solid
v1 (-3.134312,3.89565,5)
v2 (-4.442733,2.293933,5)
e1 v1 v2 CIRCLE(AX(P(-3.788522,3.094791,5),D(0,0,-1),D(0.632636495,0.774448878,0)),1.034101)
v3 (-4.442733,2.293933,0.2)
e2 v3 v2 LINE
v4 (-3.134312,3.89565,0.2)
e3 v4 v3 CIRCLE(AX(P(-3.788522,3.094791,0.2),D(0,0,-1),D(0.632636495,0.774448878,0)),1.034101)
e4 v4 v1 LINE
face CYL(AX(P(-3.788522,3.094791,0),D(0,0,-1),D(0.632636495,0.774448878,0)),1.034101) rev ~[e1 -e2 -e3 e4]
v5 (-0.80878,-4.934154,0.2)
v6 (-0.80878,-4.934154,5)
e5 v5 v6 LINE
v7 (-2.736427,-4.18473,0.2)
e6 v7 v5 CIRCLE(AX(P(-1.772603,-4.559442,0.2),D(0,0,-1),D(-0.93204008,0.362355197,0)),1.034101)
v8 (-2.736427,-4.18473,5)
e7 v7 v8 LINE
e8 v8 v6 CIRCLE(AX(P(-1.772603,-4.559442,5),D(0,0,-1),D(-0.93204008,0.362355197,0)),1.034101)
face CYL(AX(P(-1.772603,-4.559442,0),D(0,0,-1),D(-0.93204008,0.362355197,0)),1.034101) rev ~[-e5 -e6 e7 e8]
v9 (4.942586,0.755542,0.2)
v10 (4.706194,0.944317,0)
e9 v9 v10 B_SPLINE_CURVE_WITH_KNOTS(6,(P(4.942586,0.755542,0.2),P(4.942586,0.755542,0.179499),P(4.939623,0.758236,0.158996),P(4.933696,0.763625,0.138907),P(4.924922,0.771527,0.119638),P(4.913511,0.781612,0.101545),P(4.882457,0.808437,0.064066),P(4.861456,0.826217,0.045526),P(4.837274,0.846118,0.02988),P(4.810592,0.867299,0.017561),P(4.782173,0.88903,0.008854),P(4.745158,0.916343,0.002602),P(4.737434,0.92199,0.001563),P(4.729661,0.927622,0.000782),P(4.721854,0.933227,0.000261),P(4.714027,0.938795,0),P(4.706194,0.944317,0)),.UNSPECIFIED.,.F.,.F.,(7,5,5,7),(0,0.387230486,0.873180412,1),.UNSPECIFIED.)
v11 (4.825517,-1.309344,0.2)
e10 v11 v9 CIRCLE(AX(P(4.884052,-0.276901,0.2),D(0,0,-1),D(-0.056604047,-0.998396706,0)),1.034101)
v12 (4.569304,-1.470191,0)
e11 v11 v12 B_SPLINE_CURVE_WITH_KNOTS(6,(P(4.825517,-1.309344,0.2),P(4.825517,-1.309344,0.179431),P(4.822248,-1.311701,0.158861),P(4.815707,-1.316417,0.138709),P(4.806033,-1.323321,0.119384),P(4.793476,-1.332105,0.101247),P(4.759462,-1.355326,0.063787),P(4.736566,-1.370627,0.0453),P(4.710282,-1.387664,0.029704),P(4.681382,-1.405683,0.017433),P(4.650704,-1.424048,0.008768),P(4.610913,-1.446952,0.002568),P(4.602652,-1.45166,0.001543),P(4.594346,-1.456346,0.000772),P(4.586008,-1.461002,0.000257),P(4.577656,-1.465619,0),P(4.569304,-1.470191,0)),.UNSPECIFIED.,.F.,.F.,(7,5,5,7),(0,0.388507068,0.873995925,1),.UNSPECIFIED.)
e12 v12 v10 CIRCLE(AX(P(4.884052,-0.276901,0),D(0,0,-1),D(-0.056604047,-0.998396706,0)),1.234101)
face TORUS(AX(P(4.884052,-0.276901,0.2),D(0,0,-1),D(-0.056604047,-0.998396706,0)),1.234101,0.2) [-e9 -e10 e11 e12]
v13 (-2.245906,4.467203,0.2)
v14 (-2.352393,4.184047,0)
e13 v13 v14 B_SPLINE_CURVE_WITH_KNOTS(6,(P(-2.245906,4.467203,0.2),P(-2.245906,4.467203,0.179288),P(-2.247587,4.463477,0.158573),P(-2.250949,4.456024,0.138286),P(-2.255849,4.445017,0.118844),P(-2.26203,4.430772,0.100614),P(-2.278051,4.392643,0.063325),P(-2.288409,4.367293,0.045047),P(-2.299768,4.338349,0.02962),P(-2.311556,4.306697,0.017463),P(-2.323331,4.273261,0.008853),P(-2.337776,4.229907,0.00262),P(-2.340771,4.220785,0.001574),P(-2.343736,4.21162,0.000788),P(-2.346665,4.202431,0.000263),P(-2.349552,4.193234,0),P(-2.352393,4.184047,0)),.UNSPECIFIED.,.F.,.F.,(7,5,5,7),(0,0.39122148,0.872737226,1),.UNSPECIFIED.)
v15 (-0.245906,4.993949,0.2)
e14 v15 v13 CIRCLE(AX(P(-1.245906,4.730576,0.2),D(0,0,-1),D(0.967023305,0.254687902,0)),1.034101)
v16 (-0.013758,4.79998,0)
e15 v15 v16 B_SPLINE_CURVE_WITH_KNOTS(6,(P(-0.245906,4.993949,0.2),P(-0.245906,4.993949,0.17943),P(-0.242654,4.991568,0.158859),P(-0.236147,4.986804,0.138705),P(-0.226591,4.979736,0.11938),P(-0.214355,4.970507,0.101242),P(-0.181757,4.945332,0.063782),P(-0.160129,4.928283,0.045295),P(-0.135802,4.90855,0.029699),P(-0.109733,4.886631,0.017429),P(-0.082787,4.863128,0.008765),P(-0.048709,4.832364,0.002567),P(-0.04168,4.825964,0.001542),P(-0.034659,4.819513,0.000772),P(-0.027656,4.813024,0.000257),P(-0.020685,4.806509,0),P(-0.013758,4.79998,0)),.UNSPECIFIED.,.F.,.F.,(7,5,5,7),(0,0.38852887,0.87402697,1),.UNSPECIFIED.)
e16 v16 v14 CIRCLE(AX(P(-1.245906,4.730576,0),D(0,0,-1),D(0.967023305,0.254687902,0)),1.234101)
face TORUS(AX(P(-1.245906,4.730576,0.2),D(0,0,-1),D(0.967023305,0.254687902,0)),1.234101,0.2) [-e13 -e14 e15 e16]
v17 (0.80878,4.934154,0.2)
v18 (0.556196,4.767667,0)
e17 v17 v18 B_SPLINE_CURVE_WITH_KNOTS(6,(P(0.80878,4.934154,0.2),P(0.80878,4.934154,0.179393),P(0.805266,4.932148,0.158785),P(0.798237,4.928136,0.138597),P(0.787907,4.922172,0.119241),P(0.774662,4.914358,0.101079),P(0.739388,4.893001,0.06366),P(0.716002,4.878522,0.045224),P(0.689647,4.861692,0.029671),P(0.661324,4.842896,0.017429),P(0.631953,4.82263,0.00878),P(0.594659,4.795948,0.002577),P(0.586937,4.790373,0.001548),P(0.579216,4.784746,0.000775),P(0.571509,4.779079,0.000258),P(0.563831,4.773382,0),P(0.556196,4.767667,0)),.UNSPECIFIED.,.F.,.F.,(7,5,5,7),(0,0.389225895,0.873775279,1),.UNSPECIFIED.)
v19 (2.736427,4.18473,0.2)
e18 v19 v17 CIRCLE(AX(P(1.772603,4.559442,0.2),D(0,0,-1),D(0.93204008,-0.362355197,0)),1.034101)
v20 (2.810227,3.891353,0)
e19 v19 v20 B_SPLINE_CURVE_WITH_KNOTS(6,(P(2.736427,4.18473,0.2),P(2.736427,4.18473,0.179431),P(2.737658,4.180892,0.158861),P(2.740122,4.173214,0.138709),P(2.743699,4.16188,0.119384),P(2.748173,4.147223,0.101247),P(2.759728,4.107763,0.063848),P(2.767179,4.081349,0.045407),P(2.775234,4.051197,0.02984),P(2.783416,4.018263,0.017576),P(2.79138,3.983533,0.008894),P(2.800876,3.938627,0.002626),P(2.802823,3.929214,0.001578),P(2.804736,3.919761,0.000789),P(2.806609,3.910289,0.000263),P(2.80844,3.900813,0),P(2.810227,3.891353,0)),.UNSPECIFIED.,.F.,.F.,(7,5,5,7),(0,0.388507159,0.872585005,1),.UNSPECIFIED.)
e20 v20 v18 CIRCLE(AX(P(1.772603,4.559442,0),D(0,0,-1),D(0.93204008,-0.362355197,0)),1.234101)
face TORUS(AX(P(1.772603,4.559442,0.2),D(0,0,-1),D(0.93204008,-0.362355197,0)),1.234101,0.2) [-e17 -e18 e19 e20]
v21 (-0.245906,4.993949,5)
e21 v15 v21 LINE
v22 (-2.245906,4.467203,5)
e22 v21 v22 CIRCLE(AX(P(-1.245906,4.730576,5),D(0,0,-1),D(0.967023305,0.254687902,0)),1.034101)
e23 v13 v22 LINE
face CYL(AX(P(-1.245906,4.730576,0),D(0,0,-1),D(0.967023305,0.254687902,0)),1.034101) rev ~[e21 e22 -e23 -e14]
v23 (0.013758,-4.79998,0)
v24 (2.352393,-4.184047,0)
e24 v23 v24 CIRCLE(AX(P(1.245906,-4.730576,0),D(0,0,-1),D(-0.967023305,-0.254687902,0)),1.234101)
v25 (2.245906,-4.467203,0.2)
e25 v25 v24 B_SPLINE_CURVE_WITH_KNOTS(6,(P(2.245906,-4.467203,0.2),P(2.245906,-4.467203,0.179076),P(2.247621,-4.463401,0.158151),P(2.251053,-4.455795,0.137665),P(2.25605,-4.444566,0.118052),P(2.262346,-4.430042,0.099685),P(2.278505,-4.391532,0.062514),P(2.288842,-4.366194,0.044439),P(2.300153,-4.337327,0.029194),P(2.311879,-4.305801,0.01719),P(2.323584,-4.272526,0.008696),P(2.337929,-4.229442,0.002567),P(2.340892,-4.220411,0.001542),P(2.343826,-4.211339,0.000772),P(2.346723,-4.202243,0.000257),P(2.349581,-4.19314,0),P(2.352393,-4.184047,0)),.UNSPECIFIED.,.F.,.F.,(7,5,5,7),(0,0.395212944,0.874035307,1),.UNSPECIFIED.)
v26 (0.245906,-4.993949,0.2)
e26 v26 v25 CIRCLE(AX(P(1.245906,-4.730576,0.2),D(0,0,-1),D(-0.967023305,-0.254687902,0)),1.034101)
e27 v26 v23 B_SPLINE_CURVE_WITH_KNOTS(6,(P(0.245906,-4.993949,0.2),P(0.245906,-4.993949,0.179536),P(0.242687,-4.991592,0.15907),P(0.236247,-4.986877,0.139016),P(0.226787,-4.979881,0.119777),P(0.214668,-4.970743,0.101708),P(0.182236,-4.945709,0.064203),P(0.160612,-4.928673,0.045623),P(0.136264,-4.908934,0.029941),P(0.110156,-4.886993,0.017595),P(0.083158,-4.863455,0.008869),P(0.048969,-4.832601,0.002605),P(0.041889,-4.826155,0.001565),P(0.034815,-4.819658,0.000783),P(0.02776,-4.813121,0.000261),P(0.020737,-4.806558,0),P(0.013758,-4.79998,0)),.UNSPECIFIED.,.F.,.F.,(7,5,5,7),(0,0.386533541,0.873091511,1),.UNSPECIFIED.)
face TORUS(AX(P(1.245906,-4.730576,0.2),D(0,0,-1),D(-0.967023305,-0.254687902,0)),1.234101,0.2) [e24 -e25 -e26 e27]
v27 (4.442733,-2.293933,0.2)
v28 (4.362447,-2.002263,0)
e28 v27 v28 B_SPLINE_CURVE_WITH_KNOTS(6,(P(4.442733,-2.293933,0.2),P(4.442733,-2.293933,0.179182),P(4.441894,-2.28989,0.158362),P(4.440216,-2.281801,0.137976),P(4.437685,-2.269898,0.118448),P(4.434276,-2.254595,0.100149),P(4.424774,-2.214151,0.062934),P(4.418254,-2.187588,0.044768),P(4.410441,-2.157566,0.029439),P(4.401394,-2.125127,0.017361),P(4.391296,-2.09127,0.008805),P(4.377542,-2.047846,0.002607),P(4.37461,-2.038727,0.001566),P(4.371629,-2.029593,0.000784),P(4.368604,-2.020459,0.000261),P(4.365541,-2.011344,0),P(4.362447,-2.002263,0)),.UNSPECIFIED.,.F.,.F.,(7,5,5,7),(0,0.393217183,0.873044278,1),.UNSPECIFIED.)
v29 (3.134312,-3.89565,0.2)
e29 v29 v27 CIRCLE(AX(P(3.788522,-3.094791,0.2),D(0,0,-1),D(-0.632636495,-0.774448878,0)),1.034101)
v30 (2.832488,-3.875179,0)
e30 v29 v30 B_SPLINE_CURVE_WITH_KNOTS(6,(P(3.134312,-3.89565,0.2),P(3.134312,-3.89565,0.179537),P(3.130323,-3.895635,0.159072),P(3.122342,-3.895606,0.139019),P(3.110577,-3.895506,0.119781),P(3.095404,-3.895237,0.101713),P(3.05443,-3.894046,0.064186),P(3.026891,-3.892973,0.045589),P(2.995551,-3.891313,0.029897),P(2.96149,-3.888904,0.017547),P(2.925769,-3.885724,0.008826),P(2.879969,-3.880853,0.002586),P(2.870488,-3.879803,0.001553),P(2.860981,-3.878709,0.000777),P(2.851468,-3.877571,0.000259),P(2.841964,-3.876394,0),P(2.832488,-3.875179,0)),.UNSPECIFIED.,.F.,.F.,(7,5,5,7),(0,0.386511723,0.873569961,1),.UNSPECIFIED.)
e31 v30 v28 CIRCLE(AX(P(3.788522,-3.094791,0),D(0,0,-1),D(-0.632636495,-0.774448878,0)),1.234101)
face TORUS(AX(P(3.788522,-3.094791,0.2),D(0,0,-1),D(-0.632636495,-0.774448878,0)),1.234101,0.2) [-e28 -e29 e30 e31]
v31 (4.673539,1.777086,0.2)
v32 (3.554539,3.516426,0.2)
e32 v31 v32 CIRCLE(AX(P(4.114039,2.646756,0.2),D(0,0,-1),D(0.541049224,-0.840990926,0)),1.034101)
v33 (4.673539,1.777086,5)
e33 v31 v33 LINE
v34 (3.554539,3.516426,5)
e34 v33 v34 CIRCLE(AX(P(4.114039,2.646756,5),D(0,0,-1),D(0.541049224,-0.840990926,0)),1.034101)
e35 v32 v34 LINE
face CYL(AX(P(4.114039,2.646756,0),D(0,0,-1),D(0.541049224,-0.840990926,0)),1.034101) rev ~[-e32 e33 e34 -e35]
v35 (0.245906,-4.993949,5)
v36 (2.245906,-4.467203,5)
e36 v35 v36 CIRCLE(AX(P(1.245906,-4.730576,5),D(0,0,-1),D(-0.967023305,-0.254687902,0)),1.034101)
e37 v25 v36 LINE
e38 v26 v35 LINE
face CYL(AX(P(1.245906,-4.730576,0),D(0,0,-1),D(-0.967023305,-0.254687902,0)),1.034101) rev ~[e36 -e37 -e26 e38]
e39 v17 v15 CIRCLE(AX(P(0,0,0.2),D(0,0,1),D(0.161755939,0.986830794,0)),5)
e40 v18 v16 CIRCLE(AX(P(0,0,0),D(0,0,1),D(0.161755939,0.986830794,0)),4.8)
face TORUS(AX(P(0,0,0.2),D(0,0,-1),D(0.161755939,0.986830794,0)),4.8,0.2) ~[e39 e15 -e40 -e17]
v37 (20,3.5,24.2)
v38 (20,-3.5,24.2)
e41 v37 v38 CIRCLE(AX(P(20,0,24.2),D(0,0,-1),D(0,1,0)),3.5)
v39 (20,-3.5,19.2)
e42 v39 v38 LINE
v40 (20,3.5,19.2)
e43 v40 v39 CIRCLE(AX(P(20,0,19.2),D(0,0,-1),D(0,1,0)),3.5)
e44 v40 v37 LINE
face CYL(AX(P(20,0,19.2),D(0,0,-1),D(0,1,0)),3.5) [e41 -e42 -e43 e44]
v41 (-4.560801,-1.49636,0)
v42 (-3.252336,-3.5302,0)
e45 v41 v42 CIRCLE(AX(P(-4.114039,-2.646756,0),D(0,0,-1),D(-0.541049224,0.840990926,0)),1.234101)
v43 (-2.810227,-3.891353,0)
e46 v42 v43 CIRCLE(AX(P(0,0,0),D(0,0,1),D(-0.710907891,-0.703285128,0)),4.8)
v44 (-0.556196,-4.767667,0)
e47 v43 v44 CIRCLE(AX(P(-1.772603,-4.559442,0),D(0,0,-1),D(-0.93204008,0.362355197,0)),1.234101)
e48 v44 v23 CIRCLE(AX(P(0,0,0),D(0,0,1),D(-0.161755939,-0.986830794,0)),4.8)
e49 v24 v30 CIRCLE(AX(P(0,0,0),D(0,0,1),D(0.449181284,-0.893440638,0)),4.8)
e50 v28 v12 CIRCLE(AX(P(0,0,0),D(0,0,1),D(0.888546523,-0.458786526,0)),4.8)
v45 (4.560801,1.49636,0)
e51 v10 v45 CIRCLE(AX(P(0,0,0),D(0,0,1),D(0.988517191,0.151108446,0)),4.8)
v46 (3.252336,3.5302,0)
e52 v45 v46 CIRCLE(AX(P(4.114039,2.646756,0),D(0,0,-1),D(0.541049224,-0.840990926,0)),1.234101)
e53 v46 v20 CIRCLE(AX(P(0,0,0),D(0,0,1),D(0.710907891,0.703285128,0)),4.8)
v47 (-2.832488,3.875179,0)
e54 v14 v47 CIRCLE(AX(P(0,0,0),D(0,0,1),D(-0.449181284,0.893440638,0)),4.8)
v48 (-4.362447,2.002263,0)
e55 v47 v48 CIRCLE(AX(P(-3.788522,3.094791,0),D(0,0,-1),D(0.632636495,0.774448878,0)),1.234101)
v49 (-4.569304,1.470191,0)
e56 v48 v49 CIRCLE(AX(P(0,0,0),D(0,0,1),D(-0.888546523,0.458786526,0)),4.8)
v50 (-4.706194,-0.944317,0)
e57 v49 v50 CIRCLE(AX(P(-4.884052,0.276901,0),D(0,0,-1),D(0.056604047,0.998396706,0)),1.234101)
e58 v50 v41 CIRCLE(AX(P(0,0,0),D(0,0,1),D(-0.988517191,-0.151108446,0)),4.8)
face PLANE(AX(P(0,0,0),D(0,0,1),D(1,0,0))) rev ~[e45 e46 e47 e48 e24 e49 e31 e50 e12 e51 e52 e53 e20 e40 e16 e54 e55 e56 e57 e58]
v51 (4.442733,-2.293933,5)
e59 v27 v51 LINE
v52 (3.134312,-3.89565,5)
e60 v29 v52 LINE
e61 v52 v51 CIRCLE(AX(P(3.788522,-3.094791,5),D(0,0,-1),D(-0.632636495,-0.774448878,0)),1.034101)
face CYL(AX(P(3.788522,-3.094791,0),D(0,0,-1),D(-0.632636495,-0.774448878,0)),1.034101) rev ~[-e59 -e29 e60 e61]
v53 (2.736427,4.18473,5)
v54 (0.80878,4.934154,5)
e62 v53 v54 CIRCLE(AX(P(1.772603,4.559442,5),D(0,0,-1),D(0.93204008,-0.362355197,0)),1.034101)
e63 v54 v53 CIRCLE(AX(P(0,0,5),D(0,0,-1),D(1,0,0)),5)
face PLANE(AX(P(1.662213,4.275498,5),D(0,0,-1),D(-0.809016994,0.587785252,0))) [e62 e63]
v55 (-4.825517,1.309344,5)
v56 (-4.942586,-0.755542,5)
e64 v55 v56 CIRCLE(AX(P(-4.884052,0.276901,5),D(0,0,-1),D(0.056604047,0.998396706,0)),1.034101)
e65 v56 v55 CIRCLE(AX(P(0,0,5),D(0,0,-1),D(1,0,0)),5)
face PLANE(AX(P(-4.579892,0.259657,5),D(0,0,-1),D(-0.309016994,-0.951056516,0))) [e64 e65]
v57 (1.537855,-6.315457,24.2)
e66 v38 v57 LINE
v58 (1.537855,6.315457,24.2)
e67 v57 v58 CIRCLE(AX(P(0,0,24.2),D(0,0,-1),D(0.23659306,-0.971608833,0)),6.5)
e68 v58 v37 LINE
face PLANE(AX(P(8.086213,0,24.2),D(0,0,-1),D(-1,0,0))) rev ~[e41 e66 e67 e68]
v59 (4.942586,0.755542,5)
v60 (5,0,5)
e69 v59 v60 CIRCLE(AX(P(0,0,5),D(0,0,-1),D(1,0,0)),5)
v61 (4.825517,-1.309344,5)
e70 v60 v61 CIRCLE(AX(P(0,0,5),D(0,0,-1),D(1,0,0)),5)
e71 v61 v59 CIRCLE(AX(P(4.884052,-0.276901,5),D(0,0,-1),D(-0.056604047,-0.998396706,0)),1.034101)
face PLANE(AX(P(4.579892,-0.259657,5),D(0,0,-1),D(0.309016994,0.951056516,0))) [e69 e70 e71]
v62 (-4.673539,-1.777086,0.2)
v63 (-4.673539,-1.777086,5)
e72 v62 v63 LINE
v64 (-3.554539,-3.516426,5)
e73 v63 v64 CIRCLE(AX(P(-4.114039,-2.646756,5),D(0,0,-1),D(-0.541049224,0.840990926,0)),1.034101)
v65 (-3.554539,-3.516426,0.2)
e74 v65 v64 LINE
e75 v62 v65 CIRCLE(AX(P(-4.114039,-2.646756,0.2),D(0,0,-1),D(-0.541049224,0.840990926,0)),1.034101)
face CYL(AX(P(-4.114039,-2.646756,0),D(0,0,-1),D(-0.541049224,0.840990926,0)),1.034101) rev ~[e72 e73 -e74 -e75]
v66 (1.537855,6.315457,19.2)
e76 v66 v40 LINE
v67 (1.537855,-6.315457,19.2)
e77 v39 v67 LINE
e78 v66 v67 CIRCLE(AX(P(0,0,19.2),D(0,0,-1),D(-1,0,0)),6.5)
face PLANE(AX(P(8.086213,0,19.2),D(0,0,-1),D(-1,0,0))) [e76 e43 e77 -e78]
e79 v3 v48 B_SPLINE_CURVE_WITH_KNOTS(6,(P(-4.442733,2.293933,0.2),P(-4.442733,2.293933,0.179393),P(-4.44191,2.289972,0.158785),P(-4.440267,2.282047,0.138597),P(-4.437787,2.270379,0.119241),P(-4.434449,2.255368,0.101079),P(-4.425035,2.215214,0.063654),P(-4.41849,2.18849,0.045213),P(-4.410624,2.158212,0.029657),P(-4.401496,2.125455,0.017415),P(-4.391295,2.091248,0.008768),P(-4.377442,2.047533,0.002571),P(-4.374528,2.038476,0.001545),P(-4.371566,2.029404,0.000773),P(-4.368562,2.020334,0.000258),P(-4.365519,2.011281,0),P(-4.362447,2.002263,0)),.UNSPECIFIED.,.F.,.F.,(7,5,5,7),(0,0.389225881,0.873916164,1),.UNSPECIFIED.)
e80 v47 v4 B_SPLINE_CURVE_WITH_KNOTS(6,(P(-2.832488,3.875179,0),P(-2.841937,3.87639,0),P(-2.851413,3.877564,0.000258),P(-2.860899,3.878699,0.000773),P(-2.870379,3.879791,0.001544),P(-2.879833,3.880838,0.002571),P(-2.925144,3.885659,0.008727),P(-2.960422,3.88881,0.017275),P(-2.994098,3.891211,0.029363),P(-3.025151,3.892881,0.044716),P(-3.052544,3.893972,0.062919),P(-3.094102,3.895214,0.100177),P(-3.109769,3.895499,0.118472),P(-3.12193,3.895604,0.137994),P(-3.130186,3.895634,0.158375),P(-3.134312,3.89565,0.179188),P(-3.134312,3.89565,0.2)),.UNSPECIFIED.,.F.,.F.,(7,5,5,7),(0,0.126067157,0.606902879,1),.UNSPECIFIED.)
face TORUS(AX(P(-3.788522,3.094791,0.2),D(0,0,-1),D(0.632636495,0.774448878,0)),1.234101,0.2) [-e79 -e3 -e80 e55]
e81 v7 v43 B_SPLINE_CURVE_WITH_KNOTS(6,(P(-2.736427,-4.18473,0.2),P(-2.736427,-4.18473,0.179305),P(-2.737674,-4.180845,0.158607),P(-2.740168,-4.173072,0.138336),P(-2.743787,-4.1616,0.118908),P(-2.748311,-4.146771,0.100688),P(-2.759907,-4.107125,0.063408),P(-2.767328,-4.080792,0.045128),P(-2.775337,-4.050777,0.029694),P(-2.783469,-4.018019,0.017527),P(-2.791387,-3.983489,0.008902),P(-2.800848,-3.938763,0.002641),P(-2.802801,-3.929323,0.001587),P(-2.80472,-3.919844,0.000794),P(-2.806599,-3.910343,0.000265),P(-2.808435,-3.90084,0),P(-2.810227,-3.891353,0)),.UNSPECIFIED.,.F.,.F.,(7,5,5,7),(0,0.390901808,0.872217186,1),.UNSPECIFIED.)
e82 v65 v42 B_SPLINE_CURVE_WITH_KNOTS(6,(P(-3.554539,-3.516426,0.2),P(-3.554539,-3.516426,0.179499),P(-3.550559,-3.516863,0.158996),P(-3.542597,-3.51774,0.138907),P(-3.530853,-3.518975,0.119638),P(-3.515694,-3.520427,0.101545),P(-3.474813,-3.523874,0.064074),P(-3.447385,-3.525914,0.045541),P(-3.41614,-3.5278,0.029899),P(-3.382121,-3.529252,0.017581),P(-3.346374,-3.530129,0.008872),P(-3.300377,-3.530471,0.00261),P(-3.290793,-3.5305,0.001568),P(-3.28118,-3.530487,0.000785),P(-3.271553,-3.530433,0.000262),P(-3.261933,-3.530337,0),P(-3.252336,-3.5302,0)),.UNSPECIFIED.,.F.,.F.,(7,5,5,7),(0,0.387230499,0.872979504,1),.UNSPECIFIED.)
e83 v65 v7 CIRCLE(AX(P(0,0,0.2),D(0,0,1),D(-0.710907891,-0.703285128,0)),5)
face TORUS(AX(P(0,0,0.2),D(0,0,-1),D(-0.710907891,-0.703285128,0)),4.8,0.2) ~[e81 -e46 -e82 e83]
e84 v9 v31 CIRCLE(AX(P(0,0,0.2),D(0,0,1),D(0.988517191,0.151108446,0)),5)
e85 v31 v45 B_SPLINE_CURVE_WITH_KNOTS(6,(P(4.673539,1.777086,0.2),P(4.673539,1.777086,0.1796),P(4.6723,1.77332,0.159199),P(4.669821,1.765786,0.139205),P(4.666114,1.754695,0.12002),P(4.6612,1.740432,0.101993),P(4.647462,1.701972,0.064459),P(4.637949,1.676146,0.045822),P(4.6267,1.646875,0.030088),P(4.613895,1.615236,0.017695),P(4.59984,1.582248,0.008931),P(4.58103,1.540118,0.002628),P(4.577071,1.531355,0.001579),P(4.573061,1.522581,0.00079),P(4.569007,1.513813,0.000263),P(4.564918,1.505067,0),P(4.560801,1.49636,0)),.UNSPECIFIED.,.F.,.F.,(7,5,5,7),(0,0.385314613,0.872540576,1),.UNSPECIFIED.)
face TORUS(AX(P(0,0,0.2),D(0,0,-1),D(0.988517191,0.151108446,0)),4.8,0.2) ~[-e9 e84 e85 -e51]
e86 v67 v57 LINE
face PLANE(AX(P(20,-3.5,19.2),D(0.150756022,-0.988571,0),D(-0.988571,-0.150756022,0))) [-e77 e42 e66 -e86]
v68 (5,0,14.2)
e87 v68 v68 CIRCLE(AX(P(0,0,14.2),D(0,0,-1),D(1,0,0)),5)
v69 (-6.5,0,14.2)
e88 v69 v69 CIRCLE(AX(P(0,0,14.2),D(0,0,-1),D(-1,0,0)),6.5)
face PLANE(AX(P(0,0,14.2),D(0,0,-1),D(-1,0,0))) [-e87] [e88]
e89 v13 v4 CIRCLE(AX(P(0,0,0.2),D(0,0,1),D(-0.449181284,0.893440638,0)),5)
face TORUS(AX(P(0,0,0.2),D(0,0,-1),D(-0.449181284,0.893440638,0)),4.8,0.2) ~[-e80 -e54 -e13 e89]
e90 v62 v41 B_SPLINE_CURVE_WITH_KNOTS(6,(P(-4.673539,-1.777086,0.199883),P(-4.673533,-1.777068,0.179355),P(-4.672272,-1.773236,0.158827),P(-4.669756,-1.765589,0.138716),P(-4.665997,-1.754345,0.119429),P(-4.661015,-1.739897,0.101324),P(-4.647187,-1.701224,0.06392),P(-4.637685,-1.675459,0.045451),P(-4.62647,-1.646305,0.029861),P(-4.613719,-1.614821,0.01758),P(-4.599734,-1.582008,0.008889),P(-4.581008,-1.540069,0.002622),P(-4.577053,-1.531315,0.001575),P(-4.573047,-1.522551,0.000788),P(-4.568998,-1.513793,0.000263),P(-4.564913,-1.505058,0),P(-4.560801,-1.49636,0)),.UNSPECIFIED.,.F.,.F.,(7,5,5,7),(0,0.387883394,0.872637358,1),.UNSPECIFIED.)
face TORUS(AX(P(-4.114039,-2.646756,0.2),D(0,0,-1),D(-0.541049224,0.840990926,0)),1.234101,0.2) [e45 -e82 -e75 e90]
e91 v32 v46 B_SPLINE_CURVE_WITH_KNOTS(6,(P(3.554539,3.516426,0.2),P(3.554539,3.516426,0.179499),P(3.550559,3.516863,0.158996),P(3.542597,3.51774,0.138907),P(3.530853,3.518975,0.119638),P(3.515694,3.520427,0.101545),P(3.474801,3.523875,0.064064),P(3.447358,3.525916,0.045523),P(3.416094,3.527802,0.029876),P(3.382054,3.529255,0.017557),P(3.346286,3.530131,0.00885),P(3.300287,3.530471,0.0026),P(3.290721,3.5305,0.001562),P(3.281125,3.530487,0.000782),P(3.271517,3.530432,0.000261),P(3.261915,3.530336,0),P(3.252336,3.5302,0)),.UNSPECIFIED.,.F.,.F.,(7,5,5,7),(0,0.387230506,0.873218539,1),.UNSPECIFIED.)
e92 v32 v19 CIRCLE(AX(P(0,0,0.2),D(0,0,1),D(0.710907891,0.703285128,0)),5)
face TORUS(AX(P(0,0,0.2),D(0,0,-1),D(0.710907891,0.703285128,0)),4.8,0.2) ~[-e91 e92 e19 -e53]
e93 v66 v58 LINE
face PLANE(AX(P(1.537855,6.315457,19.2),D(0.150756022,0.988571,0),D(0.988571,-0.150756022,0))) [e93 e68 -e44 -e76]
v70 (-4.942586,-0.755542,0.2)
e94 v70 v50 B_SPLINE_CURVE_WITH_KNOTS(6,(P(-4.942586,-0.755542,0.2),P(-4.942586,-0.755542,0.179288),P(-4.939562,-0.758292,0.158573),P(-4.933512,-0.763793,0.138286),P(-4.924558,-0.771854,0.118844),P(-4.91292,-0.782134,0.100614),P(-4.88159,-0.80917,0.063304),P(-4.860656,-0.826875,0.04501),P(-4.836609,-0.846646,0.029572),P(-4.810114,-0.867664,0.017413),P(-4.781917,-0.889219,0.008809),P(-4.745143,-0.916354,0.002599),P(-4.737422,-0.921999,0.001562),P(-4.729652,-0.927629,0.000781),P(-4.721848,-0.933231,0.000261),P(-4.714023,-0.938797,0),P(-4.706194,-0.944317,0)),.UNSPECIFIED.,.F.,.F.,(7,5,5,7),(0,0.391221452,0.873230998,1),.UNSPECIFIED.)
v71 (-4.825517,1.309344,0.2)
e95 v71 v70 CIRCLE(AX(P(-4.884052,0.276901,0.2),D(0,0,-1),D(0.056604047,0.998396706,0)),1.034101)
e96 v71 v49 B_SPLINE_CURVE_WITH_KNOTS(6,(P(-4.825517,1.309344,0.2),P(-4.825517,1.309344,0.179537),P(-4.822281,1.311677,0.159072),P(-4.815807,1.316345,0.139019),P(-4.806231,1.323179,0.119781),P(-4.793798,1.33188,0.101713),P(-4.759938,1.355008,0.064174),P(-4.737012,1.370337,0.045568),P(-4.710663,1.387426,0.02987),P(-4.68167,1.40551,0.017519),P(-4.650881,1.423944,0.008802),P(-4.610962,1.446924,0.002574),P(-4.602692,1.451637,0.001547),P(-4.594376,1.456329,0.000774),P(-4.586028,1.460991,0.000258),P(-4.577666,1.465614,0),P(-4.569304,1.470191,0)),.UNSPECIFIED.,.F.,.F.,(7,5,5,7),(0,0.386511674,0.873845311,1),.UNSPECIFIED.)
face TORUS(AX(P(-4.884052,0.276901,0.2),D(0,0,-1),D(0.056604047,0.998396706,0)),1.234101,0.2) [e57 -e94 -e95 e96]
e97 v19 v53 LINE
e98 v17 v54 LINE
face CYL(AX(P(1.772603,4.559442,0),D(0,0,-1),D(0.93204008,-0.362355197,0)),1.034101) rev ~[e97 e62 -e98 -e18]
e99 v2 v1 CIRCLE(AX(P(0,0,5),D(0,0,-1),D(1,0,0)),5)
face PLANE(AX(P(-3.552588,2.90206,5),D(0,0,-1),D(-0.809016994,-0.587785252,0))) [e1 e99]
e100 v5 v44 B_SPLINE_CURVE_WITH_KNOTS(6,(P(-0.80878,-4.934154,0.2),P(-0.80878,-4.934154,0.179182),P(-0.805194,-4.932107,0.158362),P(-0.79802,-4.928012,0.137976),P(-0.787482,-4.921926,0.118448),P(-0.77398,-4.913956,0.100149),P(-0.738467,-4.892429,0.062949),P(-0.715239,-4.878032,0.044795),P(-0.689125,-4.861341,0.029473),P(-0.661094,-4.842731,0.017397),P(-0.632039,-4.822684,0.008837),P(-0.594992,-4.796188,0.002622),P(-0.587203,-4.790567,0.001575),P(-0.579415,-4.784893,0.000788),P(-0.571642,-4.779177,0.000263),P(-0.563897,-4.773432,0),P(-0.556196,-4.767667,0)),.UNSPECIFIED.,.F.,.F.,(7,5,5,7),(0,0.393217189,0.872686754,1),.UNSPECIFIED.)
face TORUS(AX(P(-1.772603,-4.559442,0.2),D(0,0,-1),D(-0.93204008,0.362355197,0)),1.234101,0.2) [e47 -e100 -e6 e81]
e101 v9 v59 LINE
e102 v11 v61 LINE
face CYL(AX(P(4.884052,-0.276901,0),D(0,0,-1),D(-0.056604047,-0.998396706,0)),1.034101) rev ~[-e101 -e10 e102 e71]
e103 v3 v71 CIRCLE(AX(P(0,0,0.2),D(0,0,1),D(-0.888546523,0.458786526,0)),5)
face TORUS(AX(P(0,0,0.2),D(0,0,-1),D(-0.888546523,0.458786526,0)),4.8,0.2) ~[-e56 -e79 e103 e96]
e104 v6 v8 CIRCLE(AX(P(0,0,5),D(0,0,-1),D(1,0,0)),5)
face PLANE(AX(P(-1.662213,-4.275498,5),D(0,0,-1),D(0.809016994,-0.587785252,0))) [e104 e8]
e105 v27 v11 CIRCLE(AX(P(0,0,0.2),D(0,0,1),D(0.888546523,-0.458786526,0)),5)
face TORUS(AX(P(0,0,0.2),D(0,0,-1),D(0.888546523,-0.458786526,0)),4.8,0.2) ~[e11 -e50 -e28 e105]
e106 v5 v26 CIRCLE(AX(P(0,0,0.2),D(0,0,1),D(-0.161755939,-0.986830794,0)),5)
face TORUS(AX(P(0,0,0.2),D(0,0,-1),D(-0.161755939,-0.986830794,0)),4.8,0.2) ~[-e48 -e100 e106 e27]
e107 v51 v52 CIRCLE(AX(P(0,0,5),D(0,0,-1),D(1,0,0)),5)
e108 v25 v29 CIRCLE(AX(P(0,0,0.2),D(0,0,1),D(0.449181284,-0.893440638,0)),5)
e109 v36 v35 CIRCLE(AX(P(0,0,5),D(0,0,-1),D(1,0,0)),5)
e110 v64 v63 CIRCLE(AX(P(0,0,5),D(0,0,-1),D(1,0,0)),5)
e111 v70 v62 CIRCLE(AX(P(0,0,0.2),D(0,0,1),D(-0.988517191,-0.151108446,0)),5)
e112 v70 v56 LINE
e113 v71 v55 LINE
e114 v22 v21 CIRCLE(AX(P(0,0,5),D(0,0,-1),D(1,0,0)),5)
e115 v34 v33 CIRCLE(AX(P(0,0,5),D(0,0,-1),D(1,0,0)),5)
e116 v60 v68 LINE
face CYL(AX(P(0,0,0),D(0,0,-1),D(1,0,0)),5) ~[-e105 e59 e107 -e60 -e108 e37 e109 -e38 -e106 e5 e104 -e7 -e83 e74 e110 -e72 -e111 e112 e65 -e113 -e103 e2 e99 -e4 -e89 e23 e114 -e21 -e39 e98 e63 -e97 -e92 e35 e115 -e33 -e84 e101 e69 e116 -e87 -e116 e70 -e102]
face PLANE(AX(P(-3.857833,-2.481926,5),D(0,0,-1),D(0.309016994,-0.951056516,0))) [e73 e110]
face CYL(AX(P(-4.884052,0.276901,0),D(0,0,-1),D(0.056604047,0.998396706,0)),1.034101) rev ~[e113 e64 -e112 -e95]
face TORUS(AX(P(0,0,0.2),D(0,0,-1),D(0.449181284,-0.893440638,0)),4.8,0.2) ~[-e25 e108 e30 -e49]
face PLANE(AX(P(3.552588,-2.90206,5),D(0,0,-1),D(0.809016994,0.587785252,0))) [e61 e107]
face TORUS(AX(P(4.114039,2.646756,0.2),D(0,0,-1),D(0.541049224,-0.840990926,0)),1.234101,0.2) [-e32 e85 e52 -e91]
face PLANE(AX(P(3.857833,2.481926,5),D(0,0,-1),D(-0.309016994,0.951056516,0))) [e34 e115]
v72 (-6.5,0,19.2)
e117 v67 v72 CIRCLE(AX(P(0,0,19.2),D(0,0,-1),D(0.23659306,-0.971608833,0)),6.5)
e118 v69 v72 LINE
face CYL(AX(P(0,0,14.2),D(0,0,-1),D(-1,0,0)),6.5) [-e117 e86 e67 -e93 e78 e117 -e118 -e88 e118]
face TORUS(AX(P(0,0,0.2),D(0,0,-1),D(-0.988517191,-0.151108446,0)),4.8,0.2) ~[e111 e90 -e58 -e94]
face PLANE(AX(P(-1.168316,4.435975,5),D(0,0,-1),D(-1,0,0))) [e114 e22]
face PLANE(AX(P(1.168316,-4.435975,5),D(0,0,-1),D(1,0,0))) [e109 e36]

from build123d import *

# Parameters (mm, degrees)
SKETCH_1_R               = 5
EXTRUDE_1_DEPTH          = 19.2
CUT_EXTRUDE_3_DEPTH      = 5
PATTERN_CIRCULAR_3_COUNT = 10
FILLET_7_R               = 0.2
EXTRUDE_4_DEPTH          = 5
EXTRUDE_START            = 5
SKETCH_8_R               = 6.5
SKETCH_8_R_2             = 4.9
EXTRUDE_5_DEPTH          = 5


with BuildPart() as part:
    # Эскиз1 → Бобышка-Вытянуть1 (new body)
    with BuildSketch(Plane.XY):
        Circle(SKETCH_1_R)
    extrude(amount=EXTRUDE_1_DEPTH)

    # Эскиз4 → Вырез-Вытянуть3 (cut)
    with BuildSketch(Plane(origin=(0, 0, 0), x_dir=(-1, 0, 0), z_dir=(0, 0, -1))):
        with BuildLine():
            ThreePointArc((0.24590642, 4.993949342), (0.982533344, 3.730576267), (2.24590642, 4.467203192))
            ThreePointArc((2.24590642, 4.467203192), (1.299134355, 4.932677164), (0.24590642, 4.993949342))
        make_face()
    cut_extrude_3 = extrude(amount=-CUT_EXTRUDE_3_DEPTH, mode=Mode.SUBTRACT)

    # Круговой массив3: Вырез-Вытянуть3 ×10 about axis
    pattern_circular_3_axis = Axis((0, 0, 0), (0, 0, 1))
    for i in range(1, PATTERN_CIRCULAR_3_COUNT):
        add(cut_extrude_3.rotate(pattern_circular_3_axis, i * 360 / PATTERN_CIRCULAR_3_COUNT), mode=Mode.SUBTRACT)

    # Скругление7
    fillet_7_edges = [part.edges().sort_by_distance(p)[0] for p in [
        (-4.660200402, 1.811775983, 0),
        (-4.835116526, -1.273439509, 0),
        (-3.163182476, -3.872244391, 0),
        (-0.283020233, -4.991983528, 0),
        (2.705246119, -4.204954629, 0),
        (4.660200402, -1.811775983, 0),
        (4.835116526, 1.273439509, 0),
        (3.163182476, 3.872244391, 0),
        (0.283020233, 4.991983528, 0),
        (-2.987663885, 2.440580989, 0),
        (-3.851608369, 0.218366726, 0),
        (-3.244369367, -2.087256205, 0),
        (-1.397891539, -3.595618208, 0),
        (0.982533344, -3.730576267, 0),
        (-2.705246119, 4.204954629, 0),
        (2.987663885, -2.440580989, 0),
        (3.851608369, -0.218366726, 0),
        (3.244369367, 2.087256205, 0),
        (1.397891539, 3.595618208, 0),
        (-0.982533344, 3.730576267, 0),
    ]]
    fillet(fillet_7_edges, radius=FILLET_7_R)

    # Эскиз5 → Бобышка-Вытянуть4 (add)
    with BuildSketch(Plane.XY.offset(19.2)):
        with BuildLine():
            Line((1.53785489, 6.315457413), (20, 3.5))
            ThreePointArc((20, 3.5), (23.5, 0), (20, -3.5))
            Line((20, -3.5), (1.53785489, -6.315457413))
            ThreePointArc((1.53785489, -6.315457413), (-6.5, 0), (1.53785489, 6.315457413))
        make_face()
    extrude(amount=EXTRUDE_4_DEPTH)

    # Эскиз8 → Бобышка-Вытянуть5 (add)
    with BuildSketch(Plane(origin=(0, 0, 19.2), x_dir=(-1, 0, 0), z_dir=(0, 0, -1)).offset(EXTRUDE_START)):
        Circle(SKETCH_8_R)
        Circle(SKETCH_8_R_2, mode=Mode.SUBTRACT)
    extrude(amount=-EXTRUDE_5_DEPTH)


solid = part.part
